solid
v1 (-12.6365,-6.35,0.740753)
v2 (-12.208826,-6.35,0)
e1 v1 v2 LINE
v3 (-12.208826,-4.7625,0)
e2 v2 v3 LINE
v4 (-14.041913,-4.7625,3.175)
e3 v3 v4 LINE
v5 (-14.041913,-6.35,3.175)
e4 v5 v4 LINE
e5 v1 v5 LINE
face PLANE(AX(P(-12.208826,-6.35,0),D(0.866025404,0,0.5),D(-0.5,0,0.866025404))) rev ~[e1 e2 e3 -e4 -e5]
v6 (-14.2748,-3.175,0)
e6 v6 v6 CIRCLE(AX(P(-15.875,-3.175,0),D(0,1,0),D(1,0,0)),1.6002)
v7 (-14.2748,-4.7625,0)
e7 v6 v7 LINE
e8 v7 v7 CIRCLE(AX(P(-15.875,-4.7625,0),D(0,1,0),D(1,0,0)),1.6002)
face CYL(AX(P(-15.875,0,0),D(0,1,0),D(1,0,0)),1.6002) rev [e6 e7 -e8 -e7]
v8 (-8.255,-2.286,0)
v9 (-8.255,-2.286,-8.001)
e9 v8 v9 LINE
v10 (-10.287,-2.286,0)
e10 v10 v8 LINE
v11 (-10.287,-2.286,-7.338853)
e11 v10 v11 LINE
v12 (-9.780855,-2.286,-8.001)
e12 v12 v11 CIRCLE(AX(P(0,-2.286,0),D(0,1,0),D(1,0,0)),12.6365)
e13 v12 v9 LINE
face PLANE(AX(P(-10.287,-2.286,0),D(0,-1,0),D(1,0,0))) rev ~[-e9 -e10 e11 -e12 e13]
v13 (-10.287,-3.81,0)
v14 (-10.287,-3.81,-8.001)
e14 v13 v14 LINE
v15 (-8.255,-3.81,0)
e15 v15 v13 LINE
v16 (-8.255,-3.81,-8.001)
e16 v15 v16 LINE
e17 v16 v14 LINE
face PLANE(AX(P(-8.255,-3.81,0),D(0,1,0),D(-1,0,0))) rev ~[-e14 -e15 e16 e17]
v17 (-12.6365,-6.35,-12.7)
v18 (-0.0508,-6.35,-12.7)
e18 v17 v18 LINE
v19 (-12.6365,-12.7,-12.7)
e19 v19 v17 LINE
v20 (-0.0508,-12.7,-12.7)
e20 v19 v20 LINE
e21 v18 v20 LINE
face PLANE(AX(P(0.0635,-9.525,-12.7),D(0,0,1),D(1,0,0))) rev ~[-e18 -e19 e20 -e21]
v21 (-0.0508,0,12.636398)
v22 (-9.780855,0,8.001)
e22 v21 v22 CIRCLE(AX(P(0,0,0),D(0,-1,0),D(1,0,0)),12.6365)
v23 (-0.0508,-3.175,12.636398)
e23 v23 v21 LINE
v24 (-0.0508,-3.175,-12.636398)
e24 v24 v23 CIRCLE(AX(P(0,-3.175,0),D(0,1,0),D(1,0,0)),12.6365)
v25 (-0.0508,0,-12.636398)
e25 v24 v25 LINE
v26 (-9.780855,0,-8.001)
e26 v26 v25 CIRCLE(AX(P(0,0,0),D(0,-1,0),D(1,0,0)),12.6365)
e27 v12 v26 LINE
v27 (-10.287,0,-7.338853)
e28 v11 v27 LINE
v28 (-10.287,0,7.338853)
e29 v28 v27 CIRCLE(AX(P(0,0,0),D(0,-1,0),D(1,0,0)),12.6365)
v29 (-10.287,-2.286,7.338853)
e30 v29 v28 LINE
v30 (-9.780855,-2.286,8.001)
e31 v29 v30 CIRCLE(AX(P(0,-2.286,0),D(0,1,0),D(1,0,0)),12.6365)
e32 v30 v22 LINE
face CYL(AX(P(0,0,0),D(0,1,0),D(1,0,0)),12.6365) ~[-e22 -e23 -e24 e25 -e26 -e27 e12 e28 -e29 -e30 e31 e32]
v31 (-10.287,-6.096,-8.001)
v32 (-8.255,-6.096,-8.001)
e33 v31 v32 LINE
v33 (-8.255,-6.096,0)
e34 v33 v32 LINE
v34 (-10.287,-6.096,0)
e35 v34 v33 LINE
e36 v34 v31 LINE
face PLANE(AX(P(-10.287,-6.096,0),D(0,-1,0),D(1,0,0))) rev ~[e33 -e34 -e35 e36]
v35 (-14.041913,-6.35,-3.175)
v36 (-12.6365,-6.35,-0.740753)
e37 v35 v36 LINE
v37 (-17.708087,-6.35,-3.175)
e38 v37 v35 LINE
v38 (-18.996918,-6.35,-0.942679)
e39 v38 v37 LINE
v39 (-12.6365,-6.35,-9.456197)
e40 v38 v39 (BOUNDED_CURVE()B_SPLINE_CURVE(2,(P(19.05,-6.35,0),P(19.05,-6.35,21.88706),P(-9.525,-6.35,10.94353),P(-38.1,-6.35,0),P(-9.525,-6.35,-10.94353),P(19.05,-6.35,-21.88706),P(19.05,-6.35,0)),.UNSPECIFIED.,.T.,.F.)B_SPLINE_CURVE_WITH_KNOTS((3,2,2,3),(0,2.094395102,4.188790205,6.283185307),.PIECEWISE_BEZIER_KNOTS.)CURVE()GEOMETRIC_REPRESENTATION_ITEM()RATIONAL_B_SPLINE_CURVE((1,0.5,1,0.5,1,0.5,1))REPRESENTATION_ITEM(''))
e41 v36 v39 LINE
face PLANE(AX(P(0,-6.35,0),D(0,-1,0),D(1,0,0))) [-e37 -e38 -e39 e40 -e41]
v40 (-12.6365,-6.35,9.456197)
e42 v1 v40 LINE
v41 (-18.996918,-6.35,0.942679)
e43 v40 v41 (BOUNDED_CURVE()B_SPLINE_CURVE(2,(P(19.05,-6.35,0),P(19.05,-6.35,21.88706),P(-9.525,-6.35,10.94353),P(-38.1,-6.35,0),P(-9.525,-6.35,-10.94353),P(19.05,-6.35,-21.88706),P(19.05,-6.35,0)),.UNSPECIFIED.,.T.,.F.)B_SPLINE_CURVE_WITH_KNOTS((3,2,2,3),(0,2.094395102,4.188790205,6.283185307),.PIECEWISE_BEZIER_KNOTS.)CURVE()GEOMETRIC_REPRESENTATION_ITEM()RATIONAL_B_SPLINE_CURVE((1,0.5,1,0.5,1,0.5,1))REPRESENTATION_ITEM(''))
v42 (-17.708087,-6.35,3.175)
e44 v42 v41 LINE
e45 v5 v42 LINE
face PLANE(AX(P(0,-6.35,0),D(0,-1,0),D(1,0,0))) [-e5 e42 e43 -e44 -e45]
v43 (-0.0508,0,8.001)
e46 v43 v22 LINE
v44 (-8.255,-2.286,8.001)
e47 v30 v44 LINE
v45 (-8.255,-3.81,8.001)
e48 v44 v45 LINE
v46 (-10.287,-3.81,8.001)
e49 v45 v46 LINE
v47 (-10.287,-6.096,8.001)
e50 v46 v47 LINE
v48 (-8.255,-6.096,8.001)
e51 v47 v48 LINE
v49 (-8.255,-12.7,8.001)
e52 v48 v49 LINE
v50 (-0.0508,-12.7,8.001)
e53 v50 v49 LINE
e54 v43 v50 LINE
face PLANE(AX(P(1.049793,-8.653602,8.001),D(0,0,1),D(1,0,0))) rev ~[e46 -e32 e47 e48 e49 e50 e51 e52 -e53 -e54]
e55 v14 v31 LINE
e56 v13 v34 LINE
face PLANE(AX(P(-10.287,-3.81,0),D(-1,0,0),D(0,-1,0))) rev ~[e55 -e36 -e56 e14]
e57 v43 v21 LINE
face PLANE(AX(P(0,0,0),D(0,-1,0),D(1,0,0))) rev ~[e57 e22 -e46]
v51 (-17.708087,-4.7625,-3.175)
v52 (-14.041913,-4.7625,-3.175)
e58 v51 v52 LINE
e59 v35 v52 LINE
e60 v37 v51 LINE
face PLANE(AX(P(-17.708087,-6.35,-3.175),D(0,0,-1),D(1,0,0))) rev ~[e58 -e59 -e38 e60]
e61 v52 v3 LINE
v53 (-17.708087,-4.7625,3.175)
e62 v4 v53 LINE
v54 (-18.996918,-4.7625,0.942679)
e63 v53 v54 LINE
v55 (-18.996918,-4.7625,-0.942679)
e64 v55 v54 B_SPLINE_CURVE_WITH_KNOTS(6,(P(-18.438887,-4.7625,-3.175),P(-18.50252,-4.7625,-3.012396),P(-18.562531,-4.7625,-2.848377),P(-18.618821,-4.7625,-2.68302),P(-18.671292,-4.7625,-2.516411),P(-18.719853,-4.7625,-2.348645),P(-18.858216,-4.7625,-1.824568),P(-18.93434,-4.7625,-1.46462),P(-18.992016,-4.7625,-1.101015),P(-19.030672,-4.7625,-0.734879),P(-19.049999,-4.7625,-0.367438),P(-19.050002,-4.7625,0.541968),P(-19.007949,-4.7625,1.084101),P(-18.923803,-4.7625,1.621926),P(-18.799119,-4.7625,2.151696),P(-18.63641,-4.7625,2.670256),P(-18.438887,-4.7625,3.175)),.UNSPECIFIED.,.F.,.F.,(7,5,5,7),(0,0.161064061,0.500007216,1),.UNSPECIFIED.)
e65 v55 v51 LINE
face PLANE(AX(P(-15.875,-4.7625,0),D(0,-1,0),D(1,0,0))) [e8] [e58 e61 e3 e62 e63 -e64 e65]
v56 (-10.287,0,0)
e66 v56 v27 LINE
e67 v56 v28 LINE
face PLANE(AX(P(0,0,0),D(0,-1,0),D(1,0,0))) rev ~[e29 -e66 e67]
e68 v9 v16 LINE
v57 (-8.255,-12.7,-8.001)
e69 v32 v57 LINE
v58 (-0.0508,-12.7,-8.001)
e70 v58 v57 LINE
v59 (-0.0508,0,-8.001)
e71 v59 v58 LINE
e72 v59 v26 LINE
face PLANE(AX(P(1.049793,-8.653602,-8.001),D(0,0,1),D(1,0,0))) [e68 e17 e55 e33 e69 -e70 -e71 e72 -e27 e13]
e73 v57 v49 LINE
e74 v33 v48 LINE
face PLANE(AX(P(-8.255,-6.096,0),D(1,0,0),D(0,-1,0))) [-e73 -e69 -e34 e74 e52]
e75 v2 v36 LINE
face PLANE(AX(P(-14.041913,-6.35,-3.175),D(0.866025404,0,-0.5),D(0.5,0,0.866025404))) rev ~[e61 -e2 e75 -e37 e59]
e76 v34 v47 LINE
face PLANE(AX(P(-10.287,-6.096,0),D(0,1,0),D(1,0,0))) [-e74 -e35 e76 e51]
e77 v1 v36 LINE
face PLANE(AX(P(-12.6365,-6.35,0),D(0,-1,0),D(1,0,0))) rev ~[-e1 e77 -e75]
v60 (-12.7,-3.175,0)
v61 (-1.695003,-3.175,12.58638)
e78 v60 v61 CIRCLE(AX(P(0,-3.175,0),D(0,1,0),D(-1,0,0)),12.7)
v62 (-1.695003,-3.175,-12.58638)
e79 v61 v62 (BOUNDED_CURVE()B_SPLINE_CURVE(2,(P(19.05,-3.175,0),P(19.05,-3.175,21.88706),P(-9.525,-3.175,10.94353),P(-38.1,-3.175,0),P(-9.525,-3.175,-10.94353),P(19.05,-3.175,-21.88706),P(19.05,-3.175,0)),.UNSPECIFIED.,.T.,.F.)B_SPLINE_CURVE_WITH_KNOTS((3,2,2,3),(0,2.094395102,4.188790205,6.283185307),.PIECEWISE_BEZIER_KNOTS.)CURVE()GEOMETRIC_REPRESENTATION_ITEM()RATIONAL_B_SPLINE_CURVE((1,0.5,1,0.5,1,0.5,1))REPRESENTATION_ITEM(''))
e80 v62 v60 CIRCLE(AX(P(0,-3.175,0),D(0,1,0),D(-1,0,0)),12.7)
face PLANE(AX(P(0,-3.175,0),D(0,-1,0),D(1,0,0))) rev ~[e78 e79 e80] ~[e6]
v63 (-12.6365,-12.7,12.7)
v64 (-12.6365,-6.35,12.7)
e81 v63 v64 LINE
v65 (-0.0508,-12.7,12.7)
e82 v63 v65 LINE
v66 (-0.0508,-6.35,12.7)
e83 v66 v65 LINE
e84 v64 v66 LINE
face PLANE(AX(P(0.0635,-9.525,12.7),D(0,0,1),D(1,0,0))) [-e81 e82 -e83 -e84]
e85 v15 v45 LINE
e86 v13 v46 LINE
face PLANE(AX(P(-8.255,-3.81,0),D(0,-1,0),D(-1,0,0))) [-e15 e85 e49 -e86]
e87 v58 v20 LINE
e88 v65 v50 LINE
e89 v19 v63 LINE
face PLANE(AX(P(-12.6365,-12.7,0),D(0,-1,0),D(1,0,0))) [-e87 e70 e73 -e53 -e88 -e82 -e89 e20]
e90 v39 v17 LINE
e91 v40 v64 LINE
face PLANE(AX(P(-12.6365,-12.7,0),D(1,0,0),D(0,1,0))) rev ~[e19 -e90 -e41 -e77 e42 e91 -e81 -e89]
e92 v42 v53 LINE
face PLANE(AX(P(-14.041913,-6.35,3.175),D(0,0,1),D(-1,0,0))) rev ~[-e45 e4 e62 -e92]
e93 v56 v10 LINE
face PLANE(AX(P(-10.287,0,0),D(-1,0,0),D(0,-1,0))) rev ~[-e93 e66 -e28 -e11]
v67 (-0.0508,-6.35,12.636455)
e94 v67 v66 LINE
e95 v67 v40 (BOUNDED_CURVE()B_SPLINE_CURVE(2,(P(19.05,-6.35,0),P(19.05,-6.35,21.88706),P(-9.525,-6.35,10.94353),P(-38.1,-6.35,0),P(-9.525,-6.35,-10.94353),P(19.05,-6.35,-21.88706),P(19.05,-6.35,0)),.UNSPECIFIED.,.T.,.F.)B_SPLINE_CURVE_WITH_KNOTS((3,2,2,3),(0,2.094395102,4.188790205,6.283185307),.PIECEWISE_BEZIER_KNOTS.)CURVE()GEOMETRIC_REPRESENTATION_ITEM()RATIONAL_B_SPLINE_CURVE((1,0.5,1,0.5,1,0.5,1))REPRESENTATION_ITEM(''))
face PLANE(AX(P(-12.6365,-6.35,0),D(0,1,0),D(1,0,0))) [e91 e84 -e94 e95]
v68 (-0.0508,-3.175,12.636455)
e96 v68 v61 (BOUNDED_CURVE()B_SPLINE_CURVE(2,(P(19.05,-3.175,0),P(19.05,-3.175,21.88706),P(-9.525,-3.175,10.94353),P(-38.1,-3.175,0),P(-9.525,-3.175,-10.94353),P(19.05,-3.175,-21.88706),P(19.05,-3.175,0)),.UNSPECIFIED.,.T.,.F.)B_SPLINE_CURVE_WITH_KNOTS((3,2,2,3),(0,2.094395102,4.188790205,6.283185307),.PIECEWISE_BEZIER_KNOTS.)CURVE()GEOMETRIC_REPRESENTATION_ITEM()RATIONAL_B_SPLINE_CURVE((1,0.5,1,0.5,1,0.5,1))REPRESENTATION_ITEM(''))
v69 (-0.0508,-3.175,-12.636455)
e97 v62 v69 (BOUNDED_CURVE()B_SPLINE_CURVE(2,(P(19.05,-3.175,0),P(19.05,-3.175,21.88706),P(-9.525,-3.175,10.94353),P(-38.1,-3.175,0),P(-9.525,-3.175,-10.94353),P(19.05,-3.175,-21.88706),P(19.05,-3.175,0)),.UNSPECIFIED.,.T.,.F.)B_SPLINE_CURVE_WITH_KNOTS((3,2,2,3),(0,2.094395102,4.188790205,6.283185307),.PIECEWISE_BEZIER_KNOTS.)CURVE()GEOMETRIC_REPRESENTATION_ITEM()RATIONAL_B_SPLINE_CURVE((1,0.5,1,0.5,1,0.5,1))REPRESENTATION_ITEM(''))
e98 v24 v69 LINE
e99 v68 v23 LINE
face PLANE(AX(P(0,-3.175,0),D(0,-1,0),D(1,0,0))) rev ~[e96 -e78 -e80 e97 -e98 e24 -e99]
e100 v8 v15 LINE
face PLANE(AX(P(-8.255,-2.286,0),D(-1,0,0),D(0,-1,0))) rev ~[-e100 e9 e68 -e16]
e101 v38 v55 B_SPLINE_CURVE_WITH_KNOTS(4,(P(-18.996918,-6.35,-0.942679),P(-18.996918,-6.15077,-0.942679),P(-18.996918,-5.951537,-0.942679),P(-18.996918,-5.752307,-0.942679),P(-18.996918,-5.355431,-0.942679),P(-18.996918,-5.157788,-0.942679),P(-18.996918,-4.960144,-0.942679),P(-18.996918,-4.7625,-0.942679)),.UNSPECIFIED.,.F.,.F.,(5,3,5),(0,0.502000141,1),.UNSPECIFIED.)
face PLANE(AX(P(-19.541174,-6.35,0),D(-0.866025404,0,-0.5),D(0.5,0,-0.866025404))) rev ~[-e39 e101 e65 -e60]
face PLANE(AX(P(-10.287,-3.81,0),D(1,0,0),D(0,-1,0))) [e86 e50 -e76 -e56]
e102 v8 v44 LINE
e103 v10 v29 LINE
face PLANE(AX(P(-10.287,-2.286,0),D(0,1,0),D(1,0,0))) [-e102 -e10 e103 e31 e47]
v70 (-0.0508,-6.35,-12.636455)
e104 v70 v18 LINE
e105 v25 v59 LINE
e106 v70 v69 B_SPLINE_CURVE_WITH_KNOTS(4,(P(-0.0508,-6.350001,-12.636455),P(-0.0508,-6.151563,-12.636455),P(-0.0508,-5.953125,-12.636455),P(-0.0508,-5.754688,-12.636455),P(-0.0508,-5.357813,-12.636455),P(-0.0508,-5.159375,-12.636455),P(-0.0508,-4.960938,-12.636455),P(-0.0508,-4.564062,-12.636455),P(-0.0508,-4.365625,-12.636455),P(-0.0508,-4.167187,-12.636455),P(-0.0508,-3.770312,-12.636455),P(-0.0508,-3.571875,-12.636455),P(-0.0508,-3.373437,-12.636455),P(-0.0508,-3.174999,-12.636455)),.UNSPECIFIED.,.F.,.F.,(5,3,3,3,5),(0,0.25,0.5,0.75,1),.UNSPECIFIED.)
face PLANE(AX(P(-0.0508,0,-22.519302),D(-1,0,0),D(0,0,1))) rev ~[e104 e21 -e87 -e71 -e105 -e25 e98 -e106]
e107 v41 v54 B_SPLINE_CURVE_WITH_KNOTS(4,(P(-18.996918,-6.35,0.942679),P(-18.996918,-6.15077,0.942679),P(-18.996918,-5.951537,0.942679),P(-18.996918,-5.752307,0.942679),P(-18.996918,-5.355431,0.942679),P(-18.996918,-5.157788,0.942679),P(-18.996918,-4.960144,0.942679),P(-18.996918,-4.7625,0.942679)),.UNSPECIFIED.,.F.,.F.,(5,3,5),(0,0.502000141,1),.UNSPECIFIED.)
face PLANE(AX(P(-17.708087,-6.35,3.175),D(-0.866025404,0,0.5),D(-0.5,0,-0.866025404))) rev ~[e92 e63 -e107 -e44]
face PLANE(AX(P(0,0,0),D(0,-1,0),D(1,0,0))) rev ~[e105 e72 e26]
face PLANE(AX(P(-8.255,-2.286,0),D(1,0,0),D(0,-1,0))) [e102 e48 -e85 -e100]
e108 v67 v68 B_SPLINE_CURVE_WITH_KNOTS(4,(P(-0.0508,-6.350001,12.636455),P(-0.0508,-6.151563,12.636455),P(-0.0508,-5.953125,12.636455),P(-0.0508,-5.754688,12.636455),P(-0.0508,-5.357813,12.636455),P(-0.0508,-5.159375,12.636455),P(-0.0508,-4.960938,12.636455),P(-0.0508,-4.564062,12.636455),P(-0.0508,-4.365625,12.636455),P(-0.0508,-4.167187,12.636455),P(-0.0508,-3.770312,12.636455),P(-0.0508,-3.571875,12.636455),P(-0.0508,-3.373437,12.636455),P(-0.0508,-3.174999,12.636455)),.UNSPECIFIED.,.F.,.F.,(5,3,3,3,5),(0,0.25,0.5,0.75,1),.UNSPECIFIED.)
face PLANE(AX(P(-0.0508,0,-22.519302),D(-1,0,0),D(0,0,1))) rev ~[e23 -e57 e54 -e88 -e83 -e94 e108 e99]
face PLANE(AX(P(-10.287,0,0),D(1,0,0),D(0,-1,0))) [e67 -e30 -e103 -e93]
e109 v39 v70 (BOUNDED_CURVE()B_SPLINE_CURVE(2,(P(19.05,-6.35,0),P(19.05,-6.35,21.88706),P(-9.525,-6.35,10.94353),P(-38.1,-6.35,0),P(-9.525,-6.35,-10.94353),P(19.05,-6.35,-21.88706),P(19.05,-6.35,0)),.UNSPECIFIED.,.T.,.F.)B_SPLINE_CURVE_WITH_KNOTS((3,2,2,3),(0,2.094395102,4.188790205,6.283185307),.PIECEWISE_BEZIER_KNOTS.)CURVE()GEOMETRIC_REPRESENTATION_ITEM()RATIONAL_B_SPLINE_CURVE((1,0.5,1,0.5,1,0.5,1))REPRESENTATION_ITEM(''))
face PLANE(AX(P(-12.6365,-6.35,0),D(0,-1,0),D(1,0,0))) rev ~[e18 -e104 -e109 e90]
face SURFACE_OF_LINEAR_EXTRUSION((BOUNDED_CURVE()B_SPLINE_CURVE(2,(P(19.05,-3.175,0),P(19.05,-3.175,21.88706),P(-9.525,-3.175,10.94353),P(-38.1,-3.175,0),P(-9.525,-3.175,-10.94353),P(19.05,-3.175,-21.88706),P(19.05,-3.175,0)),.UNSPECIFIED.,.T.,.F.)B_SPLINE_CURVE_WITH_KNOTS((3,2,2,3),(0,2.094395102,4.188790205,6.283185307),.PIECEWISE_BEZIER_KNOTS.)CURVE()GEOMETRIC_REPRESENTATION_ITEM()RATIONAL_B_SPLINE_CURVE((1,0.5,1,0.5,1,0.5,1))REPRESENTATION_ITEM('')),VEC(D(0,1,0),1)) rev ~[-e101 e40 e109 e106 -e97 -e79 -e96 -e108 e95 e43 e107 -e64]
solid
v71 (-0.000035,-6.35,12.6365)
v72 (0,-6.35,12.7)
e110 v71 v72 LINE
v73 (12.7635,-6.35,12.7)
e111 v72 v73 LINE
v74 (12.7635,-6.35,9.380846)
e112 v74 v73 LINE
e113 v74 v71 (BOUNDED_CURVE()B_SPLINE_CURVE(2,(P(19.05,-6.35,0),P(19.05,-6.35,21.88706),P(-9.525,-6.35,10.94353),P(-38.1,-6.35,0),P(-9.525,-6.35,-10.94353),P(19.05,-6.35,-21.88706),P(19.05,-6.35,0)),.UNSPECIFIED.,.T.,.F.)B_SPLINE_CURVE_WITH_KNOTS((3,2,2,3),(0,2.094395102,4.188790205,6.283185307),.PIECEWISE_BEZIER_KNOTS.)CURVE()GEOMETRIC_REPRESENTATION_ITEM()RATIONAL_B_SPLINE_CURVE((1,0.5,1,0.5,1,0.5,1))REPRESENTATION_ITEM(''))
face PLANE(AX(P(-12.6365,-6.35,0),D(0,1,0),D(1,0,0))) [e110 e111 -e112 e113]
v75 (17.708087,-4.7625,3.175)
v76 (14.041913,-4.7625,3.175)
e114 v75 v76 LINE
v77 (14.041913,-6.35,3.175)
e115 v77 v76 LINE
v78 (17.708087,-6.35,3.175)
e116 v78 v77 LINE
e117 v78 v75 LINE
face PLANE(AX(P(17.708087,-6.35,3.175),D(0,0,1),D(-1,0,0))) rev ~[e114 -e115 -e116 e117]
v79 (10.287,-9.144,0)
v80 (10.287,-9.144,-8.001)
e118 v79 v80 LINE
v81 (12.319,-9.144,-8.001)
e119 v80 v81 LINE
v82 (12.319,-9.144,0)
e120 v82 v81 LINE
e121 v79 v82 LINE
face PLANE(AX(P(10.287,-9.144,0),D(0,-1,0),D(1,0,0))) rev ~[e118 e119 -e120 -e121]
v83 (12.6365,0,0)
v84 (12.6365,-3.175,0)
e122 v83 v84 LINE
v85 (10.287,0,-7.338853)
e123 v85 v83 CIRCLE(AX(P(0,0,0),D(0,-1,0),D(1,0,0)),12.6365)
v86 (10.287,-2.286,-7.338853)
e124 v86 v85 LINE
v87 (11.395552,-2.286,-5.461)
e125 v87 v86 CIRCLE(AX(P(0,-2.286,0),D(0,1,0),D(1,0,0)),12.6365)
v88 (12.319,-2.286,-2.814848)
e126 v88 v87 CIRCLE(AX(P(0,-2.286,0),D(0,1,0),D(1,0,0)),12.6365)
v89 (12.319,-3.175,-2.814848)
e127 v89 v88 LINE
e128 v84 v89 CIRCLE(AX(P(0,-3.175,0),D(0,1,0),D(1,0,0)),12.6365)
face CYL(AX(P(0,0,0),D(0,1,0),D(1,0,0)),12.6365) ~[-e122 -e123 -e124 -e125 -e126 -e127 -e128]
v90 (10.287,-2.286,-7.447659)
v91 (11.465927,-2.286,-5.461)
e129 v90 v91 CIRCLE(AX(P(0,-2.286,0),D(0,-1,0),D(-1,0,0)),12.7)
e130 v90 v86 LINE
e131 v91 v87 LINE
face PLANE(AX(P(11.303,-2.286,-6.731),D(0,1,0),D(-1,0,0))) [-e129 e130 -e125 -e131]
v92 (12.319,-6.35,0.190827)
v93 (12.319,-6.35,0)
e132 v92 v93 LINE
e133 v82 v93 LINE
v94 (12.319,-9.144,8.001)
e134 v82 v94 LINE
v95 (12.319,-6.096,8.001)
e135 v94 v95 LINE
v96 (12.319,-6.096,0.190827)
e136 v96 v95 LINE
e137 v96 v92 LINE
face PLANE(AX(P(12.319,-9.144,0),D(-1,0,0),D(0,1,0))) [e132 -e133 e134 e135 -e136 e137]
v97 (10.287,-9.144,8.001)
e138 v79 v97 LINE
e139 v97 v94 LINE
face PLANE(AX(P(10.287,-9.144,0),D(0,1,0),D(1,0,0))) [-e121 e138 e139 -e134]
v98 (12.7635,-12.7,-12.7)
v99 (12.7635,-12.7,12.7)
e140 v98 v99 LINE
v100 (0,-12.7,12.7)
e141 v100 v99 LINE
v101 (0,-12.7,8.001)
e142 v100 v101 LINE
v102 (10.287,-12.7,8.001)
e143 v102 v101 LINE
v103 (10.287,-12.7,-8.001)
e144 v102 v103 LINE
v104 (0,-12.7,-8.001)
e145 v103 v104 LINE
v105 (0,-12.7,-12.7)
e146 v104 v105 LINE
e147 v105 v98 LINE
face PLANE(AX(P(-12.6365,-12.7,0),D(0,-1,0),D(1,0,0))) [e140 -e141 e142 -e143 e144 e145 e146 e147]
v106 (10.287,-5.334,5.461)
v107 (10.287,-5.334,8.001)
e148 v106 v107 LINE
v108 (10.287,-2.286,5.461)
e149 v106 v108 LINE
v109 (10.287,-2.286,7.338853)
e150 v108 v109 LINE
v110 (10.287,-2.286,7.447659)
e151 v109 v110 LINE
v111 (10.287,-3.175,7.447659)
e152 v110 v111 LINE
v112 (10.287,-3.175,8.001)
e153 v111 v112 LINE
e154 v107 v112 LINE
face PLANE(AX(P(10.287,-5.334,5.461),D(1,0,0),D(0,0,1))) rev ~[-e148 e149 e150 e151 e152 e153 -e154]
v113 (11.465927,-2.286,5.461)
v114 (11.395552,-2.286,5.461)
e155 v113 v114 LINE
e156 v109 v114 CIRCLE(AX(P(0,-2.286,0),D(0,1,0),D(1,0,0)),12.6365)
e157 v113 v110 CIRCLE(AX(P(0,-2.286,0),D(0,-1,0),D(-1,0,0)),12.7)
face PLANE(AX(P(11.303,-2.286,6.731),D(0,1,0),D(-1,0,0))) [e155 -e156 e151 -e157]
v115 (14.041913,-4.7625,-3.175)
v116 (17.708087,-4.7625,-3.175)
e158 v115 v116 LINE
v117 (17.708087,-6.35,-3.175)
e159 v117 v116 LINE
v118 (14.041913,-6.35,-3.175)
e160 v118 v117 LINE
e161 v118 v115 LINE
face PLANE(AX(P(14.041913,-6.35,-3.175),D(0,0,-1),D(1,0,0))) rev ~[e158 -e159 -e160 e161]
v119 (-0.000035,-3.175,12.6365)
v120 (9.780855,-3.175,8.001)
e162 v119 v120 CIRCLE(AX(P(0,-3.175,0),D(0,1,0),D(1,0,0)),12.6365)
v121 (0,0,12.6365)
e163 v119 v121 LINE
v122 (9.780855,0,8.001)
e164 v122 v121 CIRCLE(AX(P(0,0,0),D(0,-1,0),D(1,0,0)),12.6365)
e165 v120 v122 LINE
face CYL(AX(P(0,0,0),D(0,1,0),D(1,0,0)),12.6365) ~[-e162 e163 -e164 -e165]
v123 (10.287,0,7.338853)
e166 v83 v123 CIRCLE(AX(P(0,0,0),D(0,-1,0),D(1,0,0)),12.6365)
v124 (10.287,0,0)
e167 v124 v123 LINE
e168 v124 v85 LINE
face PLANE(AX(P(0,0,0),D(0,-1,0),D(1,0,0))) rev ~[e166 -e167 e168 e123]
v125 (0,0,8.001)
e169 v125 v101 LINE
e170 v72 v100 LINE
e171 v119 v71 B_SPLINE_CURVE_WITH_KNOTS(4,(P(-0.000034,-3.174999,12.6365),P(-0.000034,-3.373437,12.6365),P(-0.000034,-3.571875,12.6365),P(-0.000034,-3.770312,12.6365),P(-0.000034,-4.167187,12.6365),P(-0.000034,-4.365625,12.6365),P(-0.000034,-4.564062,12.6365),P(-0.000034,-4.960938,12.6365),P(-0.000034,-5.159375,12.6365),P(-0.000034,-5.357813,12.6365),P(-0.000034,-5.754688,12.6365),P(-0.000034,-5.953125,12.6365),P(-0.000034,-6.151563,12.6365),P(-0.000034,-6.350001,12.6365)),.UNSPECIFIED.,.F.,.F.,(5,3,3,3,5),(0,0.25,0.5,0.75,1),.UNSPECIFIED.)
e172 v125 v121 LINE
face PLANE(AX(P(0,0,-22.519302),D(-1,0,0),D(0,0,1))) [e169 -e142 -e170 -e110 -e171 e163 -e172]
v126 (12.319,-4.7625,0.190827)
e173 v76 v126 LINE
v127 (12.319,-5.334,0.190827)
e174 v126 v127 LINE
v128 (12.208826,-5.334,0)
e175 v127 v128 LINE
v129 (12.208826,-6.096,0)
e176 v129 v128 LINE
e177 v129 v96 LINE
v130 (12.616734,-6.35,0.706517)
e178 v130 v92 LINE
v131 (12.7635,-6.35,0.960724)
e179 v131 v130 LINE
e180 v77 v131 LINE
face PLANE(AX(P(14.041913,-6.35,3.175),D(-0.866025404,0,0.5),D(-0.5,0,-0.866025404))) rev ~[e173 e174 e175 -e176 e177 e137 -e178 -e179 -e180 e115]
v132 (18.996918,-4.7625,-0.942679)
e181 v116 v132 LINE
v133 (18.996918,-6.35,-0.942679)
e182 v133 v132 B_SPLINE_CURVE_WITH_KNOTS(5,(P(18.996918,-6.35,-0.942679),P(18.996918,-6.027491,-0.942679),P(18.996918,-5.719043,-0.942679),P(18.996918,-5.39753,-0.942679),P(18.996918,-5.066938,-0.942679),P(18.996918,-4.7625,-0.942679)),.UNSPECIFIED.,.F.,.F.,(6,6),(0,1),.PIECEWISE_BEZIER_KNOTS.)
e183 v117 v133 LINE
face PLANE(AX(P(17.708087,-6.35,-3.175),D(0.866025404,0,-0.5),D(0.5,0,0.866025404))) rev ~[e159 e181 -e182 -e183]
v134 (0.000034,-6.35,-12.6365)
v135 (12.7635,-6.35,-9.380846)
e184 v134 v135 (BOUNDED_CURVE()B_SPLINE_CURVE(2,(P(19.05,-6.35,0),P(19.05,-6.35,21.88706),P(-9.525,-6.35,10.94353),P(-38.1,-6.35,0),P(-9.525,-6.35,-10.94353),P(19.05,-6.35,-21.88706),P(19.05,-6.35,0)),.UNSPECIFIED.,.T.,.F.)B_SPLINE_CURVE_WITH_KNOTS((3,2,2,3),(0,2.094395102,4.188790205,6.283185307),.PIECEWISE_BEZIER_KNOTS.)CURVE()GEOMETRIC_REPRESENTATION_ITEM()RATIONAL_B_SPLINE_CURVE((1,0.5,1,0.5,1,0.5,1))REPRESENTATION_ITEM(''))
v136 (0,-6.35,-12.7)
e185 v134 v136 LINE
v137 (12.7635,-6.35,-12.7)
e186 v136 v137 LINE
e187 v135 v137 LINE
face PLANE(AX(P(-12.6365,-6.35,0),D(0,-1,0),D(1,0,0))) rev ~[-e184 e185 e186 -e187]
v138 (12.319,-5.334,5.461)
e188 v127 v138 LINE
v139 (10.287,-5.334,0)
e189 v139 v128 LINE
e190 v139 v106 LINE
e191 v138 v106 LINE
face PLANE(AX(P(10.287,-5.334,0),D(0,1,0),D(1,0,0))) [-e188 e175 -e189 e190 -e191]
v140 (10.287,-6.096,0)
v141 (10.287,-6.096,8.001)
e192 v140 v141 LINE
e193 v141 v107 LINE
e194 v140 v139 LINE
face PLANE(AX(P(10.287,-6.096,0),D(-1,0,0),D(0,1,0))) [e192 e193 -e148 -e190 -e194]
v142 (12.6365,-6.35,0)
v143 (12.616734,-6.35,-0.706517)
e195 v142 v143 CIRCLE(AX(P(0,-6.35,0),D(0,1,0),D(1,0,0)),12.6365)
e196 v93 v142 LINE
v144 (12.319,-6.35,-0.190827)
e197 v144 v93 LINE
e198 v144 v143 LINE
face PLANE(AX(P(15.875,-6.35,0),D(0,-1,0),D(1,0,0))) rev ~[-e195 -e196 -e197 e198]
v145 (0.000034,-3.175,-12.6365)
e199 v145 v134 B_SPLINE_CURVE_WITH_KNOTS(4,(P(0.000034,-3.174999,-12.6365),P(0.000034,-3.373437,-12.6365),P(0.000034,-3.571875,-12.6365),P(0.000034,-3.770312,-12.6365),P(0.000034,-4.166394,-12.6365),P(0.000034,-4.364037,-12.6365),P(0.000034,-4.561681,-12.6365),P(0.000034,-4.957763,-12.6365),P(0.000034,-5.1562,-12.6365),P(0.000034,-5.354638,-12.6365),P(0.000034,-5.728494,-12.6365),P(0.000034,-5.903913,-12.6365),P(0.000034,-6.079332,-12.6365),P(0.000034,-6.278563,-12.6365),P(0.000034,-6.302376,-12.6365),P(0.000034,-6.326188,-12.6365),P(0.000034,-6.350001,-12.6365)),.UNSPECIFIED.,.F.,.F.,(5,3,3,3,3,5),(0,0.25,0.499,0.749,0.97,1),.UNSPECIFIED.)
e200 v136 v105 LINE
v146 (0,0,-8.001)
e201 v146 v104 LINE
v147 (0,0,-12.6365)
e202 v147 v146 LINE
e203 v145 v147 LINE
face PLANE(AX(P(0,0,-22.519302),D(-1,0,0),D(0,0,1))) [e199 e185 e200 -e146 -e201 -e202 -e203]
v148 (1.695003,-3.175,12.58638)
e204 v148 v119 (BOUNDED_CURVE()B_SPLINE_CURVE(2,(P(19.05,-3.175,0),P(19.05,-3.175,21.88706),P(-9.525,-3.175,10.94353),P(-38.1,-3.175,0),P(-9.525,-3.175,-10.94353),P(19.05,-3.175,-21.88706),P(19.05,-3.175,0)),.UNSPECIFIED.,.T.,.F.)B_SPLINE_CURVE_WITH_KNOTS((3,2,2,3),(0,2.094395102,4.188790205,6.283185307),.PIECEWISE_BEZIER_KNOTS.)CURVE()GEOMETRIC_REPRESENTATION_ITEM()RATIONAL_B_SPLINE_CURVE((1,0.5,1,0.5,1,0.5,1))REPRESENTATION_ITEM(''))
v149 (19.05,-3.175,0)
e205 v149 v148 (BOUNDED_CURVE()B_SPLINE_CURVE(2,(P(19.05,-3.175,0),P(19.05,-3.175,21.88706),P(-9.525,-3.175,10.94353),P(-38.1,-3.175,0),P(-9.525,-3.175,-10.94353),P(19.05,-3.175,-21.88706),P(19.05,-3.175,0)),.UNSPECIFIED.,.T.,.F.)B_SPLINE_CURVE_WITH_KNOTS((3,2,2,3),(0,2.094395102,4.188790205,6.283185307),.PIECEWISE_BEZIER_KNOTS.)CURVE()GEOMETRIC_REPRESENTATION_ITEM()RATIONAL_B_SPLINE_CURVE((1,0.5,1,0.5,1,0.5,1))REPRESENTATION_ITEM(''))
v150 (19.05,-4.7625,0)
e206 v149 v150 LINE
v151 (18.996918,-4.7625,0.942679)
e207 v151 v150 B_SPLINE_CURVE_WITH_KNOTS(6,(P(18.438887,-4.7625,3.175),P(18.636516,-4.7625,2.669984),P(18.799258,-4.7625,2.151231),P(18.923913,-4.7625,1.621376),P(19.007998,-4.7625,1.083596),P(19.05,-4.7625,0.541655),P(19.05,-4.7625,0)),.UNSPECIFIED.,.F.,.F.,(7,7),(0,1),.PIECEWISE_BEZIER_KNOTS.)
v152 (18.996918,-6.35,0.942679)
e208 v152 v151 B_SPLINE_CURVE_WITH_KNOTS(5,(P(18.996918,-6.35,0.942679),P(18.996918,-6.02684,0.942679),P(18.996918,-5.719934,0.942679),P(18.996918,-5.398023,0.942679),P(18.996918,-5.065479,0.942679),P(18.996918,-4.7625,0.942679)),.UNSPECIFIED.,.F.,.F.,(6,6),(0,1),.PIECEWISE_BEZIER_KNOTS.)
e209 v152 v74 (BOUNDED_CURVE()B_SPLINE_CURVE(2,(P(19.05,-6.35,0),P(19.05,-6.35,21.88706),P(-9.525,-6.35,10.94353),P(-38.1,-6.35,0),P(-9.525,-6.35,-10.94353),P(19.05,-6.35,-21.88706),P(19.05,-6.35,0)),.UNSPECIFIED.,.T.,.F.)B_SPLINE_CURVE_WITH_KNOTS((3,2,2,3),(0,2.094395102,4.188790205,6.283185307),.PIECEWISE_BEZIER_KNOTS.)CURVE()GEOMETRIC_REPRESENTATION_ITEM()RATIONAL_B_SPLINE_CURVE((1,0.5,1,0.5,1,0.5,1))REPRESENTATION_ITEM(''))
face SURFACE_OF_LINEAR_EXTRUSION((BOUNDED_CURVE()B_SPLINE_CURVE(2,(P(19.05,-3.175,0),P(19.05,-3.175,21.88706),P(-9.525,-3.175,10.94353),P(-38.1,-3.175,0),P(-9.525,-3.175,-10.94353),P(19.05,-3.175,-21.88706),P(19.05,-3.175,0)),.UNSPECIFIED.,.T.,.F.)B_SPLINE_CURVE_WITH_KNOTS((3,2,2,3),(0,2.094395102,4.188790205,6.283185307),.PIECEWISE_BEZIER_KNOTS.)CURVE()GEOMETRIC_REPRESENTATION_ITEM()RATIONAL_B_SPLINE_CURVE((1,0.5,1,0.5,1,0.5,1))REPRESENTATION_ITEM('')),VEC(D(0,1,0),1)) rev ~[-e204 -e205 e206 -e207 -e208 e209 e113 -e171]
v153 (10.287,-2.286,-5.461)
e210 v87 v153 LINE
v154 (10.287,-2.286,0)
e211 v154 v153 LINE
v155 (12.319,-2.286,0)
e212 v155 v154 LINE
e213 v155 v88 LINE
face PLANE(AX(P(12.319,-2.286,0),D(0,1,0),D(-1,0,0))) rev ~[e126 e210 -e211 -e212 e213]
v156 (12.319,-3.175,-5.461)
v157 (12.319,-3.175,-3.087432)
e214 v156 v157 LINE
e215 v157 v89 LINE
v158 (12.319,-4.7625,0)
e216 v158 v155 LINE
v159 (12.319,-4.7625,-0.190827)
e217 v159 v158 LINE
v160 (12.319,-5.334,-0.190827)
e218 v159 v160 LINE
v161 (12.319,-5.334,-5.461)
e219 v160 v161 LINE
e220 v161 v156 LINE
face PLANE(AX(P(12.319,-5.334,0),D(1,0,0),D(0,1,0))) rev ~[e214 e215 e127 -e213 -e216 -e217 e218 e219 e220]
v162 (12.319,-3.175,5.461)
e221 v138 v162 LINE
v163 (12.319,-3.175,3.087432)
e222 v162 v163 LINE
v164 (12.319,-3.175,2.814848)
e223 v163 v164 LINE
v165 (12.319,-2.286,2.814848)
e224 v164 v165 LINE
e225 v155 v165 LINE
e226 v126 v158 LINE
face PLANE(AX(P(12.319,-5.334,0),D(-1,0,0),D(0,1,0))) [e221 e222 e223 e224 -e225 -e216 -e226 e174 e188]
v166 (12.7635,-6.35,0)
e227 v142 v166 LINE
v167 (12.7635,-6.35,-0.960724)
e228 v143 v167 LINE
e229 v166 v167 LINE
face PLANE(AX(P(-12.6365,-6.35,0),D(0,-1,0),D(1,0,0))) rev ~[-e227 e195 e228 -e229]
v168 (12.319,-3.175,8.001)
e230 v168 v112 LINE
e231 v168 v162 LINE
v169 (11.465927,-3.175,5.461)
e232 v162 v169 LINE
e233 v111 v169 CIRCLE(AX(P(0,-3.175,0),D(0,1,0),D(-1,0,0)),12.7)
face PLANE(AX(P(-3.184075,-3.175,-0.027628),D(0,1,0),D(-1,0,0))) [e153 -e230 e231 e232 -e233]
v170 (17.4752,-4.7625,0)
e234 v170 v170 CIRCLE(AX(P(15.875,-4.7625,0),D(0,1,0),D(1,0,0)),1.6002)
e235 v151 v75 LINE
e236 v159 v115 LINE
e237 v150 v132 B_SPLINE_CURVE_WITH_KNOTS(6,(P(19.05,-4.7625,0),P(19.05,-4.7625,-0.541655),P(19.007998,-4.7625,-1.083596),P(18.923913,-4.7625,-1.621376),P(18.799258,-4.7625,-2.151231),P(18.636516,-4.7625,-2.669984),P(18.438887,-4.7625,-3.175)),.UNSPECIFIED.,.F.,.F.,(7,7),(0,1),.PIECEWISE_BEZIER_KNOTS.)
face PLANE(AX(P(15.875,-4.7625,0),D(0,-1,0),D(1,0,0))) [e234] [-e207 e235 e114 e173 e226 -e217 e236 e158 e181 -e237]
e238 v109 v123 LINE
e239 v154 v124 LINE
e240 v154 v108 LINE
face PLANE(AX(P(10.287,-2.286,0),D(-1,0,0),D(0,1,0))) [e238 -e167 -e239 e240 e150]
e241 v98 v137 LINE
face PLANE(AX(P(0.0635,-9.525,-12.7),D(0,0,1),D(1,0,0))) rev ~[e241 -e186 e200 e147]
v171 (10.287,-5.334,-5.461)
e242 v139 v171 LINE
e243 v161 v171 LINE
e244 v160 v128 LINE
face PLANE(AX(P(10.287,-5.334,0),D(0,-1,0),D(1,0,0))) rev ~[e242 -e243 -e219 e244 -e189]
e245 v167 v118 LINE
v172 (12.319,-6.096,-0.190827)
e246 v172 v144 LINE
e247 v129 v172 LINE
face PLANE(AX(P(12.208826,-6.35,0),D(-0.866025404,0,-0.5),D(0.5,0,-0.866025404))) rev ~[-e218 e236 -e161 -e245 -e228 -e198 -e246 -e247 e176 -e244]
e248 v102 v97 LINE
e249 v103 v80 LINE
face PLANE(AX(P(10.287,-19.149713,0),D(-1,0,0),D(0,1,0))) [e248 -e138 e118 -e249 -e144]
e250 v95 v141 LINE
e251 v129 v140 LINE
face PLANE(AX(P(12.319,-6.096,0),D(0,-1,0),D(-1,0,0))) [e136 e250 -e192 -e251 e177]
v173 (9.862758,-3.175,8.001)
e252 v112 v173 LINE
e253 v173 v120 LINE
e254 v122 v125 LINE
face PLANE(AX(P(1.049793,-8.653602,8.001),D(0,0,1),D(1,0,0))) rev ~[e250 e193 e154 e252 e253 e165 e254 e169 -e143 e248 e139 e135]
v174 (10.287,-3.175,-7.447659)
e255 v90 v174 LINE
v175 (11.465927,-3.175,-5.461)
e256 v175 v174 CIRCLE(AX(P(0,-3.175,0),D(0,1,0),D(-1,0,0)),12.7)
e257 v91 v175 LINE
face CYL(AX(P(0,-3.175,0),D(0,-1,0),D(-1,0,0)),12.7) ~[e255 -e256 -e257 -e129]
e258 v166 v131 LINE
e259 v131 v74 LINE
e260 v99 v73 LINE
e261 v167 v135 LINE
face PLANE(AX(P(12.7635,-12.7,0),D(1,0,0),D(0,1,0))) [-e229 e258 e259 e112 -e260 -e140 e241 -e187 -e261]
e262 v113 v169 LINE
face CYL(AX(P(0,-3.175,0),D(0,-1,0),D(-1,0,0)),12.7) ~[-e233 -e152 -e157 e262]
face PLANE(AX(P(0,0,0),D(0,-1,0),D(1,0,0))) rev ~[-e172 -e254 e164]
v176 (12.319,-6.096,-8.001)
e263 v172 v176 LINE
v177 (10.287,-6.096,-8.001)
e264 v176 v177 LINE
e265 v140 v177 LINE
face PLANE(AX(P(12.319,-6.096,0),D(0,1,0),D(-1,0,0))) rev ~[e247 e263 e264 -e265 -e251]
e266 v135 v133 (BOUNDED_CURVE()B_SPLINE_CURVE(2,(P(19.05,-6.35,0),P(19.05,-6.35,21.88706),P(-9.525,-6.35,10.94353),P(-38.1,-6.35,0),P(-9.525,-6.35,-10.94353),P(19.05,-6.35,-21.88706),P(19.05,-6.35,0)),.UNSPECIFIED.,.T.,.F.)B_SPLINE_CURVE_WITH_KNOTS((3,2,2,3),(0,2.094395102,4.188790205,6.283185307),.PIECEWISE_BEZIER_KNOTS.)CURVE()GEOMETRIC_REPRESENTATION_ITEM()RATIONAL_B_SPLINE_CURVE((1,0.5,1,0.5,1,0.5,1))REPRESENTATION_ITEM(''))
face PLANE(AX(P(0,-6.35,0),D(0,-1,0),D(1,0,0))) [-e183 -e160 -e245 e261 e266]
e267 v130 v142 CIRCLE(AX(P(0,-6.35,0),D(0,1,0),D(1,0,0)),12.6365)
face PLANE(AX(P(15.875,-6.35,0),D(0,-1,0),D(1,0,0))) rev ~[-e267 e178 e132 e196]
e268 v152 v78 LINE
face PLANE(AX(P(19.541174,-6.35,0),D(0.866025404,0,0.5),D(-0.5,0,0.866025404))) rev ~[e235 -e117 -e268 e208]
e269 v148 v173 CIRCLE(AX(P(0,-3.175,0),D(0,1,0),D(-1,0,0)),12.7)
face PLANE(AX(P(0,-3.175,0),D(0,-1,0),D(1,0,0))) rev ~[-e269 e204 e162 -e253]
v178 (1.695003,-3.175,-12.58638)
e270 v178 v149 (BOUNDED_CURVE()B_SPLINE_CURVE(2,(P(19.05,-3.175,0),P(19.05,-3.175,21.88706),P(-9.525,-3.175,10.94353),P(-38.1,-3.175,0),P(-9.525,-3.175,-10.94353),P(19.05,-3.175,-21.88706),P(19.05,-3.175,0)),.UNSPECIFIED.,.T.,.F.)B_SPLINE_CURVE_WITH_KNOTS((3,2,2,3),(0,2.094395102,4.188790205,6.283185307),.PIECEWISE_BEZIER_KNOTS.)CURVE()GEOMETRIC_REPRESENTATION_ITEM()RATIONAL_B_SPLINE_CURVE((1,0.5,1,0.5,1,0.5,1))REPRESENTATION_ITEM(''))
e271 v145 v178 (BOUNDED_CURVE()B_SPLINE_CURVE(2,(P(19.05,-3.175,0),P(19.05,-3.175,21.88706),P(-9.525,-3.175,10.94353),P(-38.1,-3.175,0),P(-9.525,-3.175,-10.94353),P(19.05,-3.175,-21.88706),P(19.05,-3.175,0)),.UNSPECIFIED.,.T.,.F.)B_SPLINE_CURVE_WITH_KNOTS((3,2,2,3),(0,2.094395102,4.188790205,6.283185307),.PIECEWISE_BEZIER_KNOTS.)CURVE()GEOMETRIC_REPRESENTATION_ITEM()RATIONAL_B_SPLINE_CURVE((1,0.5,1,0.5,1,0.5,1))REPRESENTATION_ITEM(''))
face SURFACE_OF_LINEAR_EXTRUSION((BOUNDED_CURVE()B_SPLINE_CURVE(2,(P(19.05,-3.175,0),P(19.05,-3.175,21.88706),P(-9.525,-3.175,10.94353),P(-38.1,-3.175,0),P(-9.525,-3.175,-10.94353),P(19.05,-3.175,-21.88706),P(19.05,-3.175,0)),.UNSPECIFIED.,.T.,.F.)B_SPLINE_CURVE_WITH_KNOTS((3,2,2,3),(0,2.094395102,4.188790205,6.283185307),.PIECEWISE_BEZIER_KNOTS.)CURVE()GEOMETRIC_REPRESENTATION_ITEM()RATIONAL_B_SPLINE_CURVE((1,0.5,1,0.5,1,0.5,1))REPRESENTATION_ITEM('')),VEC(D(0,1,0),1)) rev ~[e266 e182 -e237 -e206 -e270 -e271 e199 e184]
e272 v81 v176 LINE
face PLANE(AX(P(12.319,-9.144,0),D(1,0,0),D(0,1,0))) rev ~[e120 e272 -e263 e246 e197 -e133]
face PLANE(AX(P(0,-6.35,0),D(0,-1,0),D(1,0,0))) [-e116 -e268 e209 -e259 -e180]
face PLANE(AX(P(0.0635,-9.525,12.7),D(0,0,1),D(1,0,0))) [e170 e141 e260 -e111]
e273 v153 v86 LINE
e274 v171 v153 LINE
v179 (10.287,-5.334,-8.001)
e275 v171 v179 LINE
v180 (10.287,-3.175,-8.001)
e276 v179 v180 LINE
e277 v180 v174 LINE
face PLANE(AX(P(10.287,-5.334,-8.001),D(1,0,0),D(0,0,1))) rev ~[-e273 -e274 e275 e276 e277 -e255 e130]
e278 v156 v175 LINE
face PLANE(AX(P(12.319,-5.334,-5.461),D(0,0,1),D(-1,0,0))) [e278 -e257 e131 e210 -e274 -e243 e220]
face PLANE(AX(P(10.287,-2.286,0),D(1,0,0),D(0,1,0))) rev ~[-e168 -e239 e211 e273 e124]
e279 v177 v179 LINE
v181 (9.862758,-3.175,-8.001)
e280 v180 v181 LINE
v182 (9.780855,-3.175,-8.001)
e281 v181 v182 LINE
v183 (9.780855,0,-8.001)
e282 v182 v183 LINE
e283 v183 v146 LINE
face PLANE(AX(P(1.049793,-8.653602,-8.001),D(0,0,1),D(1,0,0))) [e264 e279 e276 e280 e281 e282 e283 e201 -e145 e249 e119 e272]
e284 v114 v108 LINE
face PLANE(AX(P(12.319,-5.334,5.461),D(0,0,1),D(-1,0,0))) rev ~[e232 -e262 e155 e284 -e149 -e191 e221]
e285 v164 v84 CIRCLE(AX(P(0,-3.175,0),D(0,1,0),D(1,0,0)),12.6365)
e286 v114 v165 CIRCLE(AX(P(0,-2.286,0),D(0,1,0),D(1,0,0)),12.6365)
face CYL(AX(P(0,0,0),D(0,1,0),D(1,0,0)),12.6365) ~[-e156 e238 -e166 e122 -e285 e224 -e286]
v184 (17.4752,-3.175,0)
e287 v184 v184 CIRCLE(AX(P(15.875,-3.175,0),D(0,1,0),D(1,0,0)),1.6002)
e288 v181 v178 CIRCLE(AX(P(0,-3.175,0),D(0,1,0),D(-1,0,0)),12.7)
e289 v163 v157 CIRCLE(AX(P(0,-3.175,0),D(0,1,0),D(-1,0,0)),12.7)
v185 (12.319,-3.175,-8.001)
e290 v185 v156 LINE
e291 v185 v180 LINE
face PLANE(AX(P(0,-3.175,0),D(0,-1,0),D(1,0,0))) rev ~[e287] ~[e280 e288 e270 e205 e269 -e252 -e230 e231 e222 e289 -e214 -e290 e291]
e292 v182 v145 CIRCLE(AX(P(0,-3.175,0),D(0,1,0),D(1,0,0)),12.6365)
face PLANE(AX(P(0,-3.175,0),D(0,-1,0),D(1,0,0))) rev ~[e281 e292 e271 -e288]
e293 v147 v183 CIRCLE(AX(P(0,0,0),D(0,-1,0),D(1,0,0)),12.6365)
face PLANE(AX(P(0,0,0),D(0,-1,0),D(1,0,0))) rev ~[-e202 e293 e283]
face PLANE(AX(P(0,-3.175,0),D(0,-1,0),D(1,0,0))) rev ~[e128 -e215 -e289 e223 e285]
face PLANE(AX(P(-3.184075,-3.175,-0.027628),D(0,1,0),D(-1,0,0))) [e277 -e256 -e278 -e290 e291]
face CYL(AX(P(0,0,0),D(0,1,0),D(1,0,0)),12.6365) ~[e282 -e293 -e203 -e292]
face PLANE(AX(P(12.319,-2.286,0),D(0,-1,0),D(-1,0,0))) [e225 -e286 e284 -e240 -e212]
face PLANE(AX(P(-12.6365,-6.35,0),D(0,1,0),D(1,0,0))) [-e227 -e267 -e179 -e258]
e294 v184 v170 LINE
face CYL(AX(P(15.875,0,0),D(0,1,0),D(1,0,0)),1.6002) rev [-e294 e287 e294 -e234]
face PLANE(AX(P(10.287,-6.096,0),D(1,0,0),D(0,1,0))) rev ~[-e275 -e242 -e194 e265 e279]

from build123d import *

# Parameters (mm, degrees)
F0_R           = 12.6365
F1_DEPTH       = 12.7
F3_START       = 3.175
F3_DEPTH       = 3.175
F4_R           = 1.6002
F5_DEPTH       = 12.701
F7_DEPTH       = 1.5875
F8_W           = 25.4
F8_H           = 6.35
F9_DEPTH       = 12.7
F9_DEPTH_BACK  = 12.7
F11_DEPTH      = 8.001
F11_DEPTH_BACK = 8.001
F12_W          = 0.0508
F12_H          = 50.8
F13_DEPTH      = 12.701
F14_W          = 2.032
F14_H          = 2.54
F15_DEPTH      = 3.048
F16_W          = 47.6237311959
F16_H          = 44.0488960594
F16_R          = 12.7
F17_DEPTH      = 25.4


with BuildPart() as f1:
    # F0 (on Front) → F1 (new body)
    with BuildSketch(Plane.XZ):
        Circle(F0_R)
    extrude(amount=F1_DEPTH)

    # F2 (on Front) → F3 (join)
    with BuildSketch(Plane.XZ.offset(F3_START)):
        with BuildLine():
            add(Edge.make_bspline(
                [(19.05, 0), (19.05, 21.8870600298), (-9.525, 10.9435300149), (-38.1, 0), (-9.525, -10.9435300149), (19.05, -21.8870600298), (19.05, 0)],
                knots=[0, 0, 0, 2.0943951024, 2.0943951024, 4.1887902048, 4.1887902048, 6.2831853072, 6.2831853072, 6.2831853072], degree=2, weights=[1, 0.5, 1, 0.5, 1, 0.5, 1]))
        make_face()
    extrude(amount=F3_DEPTH)

    # F4 (on Front) → F5 (cut, through all)
    with BuildSketch(Plane.XZ):
        with Locations((15.875, 0)):
            Circle(F4_R)
        with Locations((-15.875, 0)):
            Circle(F4_R)
    extrude(amount=F5_DEPTH, mode=Mode.SUBTRACT)

    # F6 (on face) → F7 (cut)
    with BuildSketch(Plane.XZ.offset(6.35)):
        Polygon((-14.0419128953, 3.175), (-17.7080871047, 3.175), (-19.5411742094, 0), (-17.7080871047, -3.175), (-14.0419128953, -3.175), (-12.2088257906, 0), align=None)
        Polygon((14.0419128953, -3.175), (17.7080871047, -3.175), (19.5411742094, 0), (17.7080871047, 3.175), (14.0419128953, 3.175), (12.2088257906, 0), align=None)
    extrude(amount=-F7_DEPTH, mode=Mode.SUBTRACT)

    # F8 (on Top) → F9 (join, two sides)
    with BuildSketch(Plane.XY) as f9_sk:
        with Locations((0.0635, -9.525)):
            Rectangle(F8_W, F8_H)
    extrude(amount=F9_DEPTH)
    extrude(f9_sk.sketch, amount=-F9_DEPTH_BACK)

    # F10 (on Top) → F11 (cut, two sides)
    with BuildSketch(Plane.XY) as f11_sk:
        Polygon((10.287, -2.286), (10.287, 0), (-10.287, 0), (-10.287, -2.286), (-8.255, -2.286), (-8.255, -3.81), (-10.287, -3.81), (-10.287, -6.096), (-8.255, -6.096), (-8.255, -19.1497133717), (10.287, -19.1497133717), (10.287, -9.144), (12.319, -9.144), (12.319, -6.096), (10.287, -6.096), (10.287, -5.334), (12.319, -5.334), (12.319, -2.286), align=None)
    extrude(amount=F11_DEPTH, mode=Mode.SUBTRACT)
    extrude(f11_sk.sketch, amount=-F11_DEPTH_BACK, mode=Mode.SUBTRACT)

    # F12 (on Front) → F13 (cut, through all)
    with BuildSketch(Plane.XZ):
        with Locations((-0.0254, 2.8806983769)):
            Rectangle(F12_W, F12_H)
    extrude(amount=F13_DEPTH, mode=Mode.SUBTRACT)

    # F14 (on face) → F15 (join)
    with BuildSketch(Plane(origin=(0, -5.334, 0), x_dir=(-1, 0, 0), z_dir=(0, 1, 0))):
        with Locations((-11.303, 6.731)):
            Rectangle(F14_W, F14_H)
        with Locations((-11.303, -6.731)):
            Rectangle(F14_W, F14_H)
    extrude(amount=F15_DEPTH)

    # F16 (on face) → F17 (cut)
    with BuildSketch(Plane(origin=(0, -3.175, 0), x_dir=(-1, 0, 0), z_dir=(0, 1, 0))):
        with Locations((3.184074536, -0.0276276842)):
            Rectangle(F16_W, F16_H)
        Circle(F16_R, mode=Mode.SUBTRACT)
    extrude(amount=F17_DEPTH, mode=Mode.SUBTRACT)


solid = f1.part
